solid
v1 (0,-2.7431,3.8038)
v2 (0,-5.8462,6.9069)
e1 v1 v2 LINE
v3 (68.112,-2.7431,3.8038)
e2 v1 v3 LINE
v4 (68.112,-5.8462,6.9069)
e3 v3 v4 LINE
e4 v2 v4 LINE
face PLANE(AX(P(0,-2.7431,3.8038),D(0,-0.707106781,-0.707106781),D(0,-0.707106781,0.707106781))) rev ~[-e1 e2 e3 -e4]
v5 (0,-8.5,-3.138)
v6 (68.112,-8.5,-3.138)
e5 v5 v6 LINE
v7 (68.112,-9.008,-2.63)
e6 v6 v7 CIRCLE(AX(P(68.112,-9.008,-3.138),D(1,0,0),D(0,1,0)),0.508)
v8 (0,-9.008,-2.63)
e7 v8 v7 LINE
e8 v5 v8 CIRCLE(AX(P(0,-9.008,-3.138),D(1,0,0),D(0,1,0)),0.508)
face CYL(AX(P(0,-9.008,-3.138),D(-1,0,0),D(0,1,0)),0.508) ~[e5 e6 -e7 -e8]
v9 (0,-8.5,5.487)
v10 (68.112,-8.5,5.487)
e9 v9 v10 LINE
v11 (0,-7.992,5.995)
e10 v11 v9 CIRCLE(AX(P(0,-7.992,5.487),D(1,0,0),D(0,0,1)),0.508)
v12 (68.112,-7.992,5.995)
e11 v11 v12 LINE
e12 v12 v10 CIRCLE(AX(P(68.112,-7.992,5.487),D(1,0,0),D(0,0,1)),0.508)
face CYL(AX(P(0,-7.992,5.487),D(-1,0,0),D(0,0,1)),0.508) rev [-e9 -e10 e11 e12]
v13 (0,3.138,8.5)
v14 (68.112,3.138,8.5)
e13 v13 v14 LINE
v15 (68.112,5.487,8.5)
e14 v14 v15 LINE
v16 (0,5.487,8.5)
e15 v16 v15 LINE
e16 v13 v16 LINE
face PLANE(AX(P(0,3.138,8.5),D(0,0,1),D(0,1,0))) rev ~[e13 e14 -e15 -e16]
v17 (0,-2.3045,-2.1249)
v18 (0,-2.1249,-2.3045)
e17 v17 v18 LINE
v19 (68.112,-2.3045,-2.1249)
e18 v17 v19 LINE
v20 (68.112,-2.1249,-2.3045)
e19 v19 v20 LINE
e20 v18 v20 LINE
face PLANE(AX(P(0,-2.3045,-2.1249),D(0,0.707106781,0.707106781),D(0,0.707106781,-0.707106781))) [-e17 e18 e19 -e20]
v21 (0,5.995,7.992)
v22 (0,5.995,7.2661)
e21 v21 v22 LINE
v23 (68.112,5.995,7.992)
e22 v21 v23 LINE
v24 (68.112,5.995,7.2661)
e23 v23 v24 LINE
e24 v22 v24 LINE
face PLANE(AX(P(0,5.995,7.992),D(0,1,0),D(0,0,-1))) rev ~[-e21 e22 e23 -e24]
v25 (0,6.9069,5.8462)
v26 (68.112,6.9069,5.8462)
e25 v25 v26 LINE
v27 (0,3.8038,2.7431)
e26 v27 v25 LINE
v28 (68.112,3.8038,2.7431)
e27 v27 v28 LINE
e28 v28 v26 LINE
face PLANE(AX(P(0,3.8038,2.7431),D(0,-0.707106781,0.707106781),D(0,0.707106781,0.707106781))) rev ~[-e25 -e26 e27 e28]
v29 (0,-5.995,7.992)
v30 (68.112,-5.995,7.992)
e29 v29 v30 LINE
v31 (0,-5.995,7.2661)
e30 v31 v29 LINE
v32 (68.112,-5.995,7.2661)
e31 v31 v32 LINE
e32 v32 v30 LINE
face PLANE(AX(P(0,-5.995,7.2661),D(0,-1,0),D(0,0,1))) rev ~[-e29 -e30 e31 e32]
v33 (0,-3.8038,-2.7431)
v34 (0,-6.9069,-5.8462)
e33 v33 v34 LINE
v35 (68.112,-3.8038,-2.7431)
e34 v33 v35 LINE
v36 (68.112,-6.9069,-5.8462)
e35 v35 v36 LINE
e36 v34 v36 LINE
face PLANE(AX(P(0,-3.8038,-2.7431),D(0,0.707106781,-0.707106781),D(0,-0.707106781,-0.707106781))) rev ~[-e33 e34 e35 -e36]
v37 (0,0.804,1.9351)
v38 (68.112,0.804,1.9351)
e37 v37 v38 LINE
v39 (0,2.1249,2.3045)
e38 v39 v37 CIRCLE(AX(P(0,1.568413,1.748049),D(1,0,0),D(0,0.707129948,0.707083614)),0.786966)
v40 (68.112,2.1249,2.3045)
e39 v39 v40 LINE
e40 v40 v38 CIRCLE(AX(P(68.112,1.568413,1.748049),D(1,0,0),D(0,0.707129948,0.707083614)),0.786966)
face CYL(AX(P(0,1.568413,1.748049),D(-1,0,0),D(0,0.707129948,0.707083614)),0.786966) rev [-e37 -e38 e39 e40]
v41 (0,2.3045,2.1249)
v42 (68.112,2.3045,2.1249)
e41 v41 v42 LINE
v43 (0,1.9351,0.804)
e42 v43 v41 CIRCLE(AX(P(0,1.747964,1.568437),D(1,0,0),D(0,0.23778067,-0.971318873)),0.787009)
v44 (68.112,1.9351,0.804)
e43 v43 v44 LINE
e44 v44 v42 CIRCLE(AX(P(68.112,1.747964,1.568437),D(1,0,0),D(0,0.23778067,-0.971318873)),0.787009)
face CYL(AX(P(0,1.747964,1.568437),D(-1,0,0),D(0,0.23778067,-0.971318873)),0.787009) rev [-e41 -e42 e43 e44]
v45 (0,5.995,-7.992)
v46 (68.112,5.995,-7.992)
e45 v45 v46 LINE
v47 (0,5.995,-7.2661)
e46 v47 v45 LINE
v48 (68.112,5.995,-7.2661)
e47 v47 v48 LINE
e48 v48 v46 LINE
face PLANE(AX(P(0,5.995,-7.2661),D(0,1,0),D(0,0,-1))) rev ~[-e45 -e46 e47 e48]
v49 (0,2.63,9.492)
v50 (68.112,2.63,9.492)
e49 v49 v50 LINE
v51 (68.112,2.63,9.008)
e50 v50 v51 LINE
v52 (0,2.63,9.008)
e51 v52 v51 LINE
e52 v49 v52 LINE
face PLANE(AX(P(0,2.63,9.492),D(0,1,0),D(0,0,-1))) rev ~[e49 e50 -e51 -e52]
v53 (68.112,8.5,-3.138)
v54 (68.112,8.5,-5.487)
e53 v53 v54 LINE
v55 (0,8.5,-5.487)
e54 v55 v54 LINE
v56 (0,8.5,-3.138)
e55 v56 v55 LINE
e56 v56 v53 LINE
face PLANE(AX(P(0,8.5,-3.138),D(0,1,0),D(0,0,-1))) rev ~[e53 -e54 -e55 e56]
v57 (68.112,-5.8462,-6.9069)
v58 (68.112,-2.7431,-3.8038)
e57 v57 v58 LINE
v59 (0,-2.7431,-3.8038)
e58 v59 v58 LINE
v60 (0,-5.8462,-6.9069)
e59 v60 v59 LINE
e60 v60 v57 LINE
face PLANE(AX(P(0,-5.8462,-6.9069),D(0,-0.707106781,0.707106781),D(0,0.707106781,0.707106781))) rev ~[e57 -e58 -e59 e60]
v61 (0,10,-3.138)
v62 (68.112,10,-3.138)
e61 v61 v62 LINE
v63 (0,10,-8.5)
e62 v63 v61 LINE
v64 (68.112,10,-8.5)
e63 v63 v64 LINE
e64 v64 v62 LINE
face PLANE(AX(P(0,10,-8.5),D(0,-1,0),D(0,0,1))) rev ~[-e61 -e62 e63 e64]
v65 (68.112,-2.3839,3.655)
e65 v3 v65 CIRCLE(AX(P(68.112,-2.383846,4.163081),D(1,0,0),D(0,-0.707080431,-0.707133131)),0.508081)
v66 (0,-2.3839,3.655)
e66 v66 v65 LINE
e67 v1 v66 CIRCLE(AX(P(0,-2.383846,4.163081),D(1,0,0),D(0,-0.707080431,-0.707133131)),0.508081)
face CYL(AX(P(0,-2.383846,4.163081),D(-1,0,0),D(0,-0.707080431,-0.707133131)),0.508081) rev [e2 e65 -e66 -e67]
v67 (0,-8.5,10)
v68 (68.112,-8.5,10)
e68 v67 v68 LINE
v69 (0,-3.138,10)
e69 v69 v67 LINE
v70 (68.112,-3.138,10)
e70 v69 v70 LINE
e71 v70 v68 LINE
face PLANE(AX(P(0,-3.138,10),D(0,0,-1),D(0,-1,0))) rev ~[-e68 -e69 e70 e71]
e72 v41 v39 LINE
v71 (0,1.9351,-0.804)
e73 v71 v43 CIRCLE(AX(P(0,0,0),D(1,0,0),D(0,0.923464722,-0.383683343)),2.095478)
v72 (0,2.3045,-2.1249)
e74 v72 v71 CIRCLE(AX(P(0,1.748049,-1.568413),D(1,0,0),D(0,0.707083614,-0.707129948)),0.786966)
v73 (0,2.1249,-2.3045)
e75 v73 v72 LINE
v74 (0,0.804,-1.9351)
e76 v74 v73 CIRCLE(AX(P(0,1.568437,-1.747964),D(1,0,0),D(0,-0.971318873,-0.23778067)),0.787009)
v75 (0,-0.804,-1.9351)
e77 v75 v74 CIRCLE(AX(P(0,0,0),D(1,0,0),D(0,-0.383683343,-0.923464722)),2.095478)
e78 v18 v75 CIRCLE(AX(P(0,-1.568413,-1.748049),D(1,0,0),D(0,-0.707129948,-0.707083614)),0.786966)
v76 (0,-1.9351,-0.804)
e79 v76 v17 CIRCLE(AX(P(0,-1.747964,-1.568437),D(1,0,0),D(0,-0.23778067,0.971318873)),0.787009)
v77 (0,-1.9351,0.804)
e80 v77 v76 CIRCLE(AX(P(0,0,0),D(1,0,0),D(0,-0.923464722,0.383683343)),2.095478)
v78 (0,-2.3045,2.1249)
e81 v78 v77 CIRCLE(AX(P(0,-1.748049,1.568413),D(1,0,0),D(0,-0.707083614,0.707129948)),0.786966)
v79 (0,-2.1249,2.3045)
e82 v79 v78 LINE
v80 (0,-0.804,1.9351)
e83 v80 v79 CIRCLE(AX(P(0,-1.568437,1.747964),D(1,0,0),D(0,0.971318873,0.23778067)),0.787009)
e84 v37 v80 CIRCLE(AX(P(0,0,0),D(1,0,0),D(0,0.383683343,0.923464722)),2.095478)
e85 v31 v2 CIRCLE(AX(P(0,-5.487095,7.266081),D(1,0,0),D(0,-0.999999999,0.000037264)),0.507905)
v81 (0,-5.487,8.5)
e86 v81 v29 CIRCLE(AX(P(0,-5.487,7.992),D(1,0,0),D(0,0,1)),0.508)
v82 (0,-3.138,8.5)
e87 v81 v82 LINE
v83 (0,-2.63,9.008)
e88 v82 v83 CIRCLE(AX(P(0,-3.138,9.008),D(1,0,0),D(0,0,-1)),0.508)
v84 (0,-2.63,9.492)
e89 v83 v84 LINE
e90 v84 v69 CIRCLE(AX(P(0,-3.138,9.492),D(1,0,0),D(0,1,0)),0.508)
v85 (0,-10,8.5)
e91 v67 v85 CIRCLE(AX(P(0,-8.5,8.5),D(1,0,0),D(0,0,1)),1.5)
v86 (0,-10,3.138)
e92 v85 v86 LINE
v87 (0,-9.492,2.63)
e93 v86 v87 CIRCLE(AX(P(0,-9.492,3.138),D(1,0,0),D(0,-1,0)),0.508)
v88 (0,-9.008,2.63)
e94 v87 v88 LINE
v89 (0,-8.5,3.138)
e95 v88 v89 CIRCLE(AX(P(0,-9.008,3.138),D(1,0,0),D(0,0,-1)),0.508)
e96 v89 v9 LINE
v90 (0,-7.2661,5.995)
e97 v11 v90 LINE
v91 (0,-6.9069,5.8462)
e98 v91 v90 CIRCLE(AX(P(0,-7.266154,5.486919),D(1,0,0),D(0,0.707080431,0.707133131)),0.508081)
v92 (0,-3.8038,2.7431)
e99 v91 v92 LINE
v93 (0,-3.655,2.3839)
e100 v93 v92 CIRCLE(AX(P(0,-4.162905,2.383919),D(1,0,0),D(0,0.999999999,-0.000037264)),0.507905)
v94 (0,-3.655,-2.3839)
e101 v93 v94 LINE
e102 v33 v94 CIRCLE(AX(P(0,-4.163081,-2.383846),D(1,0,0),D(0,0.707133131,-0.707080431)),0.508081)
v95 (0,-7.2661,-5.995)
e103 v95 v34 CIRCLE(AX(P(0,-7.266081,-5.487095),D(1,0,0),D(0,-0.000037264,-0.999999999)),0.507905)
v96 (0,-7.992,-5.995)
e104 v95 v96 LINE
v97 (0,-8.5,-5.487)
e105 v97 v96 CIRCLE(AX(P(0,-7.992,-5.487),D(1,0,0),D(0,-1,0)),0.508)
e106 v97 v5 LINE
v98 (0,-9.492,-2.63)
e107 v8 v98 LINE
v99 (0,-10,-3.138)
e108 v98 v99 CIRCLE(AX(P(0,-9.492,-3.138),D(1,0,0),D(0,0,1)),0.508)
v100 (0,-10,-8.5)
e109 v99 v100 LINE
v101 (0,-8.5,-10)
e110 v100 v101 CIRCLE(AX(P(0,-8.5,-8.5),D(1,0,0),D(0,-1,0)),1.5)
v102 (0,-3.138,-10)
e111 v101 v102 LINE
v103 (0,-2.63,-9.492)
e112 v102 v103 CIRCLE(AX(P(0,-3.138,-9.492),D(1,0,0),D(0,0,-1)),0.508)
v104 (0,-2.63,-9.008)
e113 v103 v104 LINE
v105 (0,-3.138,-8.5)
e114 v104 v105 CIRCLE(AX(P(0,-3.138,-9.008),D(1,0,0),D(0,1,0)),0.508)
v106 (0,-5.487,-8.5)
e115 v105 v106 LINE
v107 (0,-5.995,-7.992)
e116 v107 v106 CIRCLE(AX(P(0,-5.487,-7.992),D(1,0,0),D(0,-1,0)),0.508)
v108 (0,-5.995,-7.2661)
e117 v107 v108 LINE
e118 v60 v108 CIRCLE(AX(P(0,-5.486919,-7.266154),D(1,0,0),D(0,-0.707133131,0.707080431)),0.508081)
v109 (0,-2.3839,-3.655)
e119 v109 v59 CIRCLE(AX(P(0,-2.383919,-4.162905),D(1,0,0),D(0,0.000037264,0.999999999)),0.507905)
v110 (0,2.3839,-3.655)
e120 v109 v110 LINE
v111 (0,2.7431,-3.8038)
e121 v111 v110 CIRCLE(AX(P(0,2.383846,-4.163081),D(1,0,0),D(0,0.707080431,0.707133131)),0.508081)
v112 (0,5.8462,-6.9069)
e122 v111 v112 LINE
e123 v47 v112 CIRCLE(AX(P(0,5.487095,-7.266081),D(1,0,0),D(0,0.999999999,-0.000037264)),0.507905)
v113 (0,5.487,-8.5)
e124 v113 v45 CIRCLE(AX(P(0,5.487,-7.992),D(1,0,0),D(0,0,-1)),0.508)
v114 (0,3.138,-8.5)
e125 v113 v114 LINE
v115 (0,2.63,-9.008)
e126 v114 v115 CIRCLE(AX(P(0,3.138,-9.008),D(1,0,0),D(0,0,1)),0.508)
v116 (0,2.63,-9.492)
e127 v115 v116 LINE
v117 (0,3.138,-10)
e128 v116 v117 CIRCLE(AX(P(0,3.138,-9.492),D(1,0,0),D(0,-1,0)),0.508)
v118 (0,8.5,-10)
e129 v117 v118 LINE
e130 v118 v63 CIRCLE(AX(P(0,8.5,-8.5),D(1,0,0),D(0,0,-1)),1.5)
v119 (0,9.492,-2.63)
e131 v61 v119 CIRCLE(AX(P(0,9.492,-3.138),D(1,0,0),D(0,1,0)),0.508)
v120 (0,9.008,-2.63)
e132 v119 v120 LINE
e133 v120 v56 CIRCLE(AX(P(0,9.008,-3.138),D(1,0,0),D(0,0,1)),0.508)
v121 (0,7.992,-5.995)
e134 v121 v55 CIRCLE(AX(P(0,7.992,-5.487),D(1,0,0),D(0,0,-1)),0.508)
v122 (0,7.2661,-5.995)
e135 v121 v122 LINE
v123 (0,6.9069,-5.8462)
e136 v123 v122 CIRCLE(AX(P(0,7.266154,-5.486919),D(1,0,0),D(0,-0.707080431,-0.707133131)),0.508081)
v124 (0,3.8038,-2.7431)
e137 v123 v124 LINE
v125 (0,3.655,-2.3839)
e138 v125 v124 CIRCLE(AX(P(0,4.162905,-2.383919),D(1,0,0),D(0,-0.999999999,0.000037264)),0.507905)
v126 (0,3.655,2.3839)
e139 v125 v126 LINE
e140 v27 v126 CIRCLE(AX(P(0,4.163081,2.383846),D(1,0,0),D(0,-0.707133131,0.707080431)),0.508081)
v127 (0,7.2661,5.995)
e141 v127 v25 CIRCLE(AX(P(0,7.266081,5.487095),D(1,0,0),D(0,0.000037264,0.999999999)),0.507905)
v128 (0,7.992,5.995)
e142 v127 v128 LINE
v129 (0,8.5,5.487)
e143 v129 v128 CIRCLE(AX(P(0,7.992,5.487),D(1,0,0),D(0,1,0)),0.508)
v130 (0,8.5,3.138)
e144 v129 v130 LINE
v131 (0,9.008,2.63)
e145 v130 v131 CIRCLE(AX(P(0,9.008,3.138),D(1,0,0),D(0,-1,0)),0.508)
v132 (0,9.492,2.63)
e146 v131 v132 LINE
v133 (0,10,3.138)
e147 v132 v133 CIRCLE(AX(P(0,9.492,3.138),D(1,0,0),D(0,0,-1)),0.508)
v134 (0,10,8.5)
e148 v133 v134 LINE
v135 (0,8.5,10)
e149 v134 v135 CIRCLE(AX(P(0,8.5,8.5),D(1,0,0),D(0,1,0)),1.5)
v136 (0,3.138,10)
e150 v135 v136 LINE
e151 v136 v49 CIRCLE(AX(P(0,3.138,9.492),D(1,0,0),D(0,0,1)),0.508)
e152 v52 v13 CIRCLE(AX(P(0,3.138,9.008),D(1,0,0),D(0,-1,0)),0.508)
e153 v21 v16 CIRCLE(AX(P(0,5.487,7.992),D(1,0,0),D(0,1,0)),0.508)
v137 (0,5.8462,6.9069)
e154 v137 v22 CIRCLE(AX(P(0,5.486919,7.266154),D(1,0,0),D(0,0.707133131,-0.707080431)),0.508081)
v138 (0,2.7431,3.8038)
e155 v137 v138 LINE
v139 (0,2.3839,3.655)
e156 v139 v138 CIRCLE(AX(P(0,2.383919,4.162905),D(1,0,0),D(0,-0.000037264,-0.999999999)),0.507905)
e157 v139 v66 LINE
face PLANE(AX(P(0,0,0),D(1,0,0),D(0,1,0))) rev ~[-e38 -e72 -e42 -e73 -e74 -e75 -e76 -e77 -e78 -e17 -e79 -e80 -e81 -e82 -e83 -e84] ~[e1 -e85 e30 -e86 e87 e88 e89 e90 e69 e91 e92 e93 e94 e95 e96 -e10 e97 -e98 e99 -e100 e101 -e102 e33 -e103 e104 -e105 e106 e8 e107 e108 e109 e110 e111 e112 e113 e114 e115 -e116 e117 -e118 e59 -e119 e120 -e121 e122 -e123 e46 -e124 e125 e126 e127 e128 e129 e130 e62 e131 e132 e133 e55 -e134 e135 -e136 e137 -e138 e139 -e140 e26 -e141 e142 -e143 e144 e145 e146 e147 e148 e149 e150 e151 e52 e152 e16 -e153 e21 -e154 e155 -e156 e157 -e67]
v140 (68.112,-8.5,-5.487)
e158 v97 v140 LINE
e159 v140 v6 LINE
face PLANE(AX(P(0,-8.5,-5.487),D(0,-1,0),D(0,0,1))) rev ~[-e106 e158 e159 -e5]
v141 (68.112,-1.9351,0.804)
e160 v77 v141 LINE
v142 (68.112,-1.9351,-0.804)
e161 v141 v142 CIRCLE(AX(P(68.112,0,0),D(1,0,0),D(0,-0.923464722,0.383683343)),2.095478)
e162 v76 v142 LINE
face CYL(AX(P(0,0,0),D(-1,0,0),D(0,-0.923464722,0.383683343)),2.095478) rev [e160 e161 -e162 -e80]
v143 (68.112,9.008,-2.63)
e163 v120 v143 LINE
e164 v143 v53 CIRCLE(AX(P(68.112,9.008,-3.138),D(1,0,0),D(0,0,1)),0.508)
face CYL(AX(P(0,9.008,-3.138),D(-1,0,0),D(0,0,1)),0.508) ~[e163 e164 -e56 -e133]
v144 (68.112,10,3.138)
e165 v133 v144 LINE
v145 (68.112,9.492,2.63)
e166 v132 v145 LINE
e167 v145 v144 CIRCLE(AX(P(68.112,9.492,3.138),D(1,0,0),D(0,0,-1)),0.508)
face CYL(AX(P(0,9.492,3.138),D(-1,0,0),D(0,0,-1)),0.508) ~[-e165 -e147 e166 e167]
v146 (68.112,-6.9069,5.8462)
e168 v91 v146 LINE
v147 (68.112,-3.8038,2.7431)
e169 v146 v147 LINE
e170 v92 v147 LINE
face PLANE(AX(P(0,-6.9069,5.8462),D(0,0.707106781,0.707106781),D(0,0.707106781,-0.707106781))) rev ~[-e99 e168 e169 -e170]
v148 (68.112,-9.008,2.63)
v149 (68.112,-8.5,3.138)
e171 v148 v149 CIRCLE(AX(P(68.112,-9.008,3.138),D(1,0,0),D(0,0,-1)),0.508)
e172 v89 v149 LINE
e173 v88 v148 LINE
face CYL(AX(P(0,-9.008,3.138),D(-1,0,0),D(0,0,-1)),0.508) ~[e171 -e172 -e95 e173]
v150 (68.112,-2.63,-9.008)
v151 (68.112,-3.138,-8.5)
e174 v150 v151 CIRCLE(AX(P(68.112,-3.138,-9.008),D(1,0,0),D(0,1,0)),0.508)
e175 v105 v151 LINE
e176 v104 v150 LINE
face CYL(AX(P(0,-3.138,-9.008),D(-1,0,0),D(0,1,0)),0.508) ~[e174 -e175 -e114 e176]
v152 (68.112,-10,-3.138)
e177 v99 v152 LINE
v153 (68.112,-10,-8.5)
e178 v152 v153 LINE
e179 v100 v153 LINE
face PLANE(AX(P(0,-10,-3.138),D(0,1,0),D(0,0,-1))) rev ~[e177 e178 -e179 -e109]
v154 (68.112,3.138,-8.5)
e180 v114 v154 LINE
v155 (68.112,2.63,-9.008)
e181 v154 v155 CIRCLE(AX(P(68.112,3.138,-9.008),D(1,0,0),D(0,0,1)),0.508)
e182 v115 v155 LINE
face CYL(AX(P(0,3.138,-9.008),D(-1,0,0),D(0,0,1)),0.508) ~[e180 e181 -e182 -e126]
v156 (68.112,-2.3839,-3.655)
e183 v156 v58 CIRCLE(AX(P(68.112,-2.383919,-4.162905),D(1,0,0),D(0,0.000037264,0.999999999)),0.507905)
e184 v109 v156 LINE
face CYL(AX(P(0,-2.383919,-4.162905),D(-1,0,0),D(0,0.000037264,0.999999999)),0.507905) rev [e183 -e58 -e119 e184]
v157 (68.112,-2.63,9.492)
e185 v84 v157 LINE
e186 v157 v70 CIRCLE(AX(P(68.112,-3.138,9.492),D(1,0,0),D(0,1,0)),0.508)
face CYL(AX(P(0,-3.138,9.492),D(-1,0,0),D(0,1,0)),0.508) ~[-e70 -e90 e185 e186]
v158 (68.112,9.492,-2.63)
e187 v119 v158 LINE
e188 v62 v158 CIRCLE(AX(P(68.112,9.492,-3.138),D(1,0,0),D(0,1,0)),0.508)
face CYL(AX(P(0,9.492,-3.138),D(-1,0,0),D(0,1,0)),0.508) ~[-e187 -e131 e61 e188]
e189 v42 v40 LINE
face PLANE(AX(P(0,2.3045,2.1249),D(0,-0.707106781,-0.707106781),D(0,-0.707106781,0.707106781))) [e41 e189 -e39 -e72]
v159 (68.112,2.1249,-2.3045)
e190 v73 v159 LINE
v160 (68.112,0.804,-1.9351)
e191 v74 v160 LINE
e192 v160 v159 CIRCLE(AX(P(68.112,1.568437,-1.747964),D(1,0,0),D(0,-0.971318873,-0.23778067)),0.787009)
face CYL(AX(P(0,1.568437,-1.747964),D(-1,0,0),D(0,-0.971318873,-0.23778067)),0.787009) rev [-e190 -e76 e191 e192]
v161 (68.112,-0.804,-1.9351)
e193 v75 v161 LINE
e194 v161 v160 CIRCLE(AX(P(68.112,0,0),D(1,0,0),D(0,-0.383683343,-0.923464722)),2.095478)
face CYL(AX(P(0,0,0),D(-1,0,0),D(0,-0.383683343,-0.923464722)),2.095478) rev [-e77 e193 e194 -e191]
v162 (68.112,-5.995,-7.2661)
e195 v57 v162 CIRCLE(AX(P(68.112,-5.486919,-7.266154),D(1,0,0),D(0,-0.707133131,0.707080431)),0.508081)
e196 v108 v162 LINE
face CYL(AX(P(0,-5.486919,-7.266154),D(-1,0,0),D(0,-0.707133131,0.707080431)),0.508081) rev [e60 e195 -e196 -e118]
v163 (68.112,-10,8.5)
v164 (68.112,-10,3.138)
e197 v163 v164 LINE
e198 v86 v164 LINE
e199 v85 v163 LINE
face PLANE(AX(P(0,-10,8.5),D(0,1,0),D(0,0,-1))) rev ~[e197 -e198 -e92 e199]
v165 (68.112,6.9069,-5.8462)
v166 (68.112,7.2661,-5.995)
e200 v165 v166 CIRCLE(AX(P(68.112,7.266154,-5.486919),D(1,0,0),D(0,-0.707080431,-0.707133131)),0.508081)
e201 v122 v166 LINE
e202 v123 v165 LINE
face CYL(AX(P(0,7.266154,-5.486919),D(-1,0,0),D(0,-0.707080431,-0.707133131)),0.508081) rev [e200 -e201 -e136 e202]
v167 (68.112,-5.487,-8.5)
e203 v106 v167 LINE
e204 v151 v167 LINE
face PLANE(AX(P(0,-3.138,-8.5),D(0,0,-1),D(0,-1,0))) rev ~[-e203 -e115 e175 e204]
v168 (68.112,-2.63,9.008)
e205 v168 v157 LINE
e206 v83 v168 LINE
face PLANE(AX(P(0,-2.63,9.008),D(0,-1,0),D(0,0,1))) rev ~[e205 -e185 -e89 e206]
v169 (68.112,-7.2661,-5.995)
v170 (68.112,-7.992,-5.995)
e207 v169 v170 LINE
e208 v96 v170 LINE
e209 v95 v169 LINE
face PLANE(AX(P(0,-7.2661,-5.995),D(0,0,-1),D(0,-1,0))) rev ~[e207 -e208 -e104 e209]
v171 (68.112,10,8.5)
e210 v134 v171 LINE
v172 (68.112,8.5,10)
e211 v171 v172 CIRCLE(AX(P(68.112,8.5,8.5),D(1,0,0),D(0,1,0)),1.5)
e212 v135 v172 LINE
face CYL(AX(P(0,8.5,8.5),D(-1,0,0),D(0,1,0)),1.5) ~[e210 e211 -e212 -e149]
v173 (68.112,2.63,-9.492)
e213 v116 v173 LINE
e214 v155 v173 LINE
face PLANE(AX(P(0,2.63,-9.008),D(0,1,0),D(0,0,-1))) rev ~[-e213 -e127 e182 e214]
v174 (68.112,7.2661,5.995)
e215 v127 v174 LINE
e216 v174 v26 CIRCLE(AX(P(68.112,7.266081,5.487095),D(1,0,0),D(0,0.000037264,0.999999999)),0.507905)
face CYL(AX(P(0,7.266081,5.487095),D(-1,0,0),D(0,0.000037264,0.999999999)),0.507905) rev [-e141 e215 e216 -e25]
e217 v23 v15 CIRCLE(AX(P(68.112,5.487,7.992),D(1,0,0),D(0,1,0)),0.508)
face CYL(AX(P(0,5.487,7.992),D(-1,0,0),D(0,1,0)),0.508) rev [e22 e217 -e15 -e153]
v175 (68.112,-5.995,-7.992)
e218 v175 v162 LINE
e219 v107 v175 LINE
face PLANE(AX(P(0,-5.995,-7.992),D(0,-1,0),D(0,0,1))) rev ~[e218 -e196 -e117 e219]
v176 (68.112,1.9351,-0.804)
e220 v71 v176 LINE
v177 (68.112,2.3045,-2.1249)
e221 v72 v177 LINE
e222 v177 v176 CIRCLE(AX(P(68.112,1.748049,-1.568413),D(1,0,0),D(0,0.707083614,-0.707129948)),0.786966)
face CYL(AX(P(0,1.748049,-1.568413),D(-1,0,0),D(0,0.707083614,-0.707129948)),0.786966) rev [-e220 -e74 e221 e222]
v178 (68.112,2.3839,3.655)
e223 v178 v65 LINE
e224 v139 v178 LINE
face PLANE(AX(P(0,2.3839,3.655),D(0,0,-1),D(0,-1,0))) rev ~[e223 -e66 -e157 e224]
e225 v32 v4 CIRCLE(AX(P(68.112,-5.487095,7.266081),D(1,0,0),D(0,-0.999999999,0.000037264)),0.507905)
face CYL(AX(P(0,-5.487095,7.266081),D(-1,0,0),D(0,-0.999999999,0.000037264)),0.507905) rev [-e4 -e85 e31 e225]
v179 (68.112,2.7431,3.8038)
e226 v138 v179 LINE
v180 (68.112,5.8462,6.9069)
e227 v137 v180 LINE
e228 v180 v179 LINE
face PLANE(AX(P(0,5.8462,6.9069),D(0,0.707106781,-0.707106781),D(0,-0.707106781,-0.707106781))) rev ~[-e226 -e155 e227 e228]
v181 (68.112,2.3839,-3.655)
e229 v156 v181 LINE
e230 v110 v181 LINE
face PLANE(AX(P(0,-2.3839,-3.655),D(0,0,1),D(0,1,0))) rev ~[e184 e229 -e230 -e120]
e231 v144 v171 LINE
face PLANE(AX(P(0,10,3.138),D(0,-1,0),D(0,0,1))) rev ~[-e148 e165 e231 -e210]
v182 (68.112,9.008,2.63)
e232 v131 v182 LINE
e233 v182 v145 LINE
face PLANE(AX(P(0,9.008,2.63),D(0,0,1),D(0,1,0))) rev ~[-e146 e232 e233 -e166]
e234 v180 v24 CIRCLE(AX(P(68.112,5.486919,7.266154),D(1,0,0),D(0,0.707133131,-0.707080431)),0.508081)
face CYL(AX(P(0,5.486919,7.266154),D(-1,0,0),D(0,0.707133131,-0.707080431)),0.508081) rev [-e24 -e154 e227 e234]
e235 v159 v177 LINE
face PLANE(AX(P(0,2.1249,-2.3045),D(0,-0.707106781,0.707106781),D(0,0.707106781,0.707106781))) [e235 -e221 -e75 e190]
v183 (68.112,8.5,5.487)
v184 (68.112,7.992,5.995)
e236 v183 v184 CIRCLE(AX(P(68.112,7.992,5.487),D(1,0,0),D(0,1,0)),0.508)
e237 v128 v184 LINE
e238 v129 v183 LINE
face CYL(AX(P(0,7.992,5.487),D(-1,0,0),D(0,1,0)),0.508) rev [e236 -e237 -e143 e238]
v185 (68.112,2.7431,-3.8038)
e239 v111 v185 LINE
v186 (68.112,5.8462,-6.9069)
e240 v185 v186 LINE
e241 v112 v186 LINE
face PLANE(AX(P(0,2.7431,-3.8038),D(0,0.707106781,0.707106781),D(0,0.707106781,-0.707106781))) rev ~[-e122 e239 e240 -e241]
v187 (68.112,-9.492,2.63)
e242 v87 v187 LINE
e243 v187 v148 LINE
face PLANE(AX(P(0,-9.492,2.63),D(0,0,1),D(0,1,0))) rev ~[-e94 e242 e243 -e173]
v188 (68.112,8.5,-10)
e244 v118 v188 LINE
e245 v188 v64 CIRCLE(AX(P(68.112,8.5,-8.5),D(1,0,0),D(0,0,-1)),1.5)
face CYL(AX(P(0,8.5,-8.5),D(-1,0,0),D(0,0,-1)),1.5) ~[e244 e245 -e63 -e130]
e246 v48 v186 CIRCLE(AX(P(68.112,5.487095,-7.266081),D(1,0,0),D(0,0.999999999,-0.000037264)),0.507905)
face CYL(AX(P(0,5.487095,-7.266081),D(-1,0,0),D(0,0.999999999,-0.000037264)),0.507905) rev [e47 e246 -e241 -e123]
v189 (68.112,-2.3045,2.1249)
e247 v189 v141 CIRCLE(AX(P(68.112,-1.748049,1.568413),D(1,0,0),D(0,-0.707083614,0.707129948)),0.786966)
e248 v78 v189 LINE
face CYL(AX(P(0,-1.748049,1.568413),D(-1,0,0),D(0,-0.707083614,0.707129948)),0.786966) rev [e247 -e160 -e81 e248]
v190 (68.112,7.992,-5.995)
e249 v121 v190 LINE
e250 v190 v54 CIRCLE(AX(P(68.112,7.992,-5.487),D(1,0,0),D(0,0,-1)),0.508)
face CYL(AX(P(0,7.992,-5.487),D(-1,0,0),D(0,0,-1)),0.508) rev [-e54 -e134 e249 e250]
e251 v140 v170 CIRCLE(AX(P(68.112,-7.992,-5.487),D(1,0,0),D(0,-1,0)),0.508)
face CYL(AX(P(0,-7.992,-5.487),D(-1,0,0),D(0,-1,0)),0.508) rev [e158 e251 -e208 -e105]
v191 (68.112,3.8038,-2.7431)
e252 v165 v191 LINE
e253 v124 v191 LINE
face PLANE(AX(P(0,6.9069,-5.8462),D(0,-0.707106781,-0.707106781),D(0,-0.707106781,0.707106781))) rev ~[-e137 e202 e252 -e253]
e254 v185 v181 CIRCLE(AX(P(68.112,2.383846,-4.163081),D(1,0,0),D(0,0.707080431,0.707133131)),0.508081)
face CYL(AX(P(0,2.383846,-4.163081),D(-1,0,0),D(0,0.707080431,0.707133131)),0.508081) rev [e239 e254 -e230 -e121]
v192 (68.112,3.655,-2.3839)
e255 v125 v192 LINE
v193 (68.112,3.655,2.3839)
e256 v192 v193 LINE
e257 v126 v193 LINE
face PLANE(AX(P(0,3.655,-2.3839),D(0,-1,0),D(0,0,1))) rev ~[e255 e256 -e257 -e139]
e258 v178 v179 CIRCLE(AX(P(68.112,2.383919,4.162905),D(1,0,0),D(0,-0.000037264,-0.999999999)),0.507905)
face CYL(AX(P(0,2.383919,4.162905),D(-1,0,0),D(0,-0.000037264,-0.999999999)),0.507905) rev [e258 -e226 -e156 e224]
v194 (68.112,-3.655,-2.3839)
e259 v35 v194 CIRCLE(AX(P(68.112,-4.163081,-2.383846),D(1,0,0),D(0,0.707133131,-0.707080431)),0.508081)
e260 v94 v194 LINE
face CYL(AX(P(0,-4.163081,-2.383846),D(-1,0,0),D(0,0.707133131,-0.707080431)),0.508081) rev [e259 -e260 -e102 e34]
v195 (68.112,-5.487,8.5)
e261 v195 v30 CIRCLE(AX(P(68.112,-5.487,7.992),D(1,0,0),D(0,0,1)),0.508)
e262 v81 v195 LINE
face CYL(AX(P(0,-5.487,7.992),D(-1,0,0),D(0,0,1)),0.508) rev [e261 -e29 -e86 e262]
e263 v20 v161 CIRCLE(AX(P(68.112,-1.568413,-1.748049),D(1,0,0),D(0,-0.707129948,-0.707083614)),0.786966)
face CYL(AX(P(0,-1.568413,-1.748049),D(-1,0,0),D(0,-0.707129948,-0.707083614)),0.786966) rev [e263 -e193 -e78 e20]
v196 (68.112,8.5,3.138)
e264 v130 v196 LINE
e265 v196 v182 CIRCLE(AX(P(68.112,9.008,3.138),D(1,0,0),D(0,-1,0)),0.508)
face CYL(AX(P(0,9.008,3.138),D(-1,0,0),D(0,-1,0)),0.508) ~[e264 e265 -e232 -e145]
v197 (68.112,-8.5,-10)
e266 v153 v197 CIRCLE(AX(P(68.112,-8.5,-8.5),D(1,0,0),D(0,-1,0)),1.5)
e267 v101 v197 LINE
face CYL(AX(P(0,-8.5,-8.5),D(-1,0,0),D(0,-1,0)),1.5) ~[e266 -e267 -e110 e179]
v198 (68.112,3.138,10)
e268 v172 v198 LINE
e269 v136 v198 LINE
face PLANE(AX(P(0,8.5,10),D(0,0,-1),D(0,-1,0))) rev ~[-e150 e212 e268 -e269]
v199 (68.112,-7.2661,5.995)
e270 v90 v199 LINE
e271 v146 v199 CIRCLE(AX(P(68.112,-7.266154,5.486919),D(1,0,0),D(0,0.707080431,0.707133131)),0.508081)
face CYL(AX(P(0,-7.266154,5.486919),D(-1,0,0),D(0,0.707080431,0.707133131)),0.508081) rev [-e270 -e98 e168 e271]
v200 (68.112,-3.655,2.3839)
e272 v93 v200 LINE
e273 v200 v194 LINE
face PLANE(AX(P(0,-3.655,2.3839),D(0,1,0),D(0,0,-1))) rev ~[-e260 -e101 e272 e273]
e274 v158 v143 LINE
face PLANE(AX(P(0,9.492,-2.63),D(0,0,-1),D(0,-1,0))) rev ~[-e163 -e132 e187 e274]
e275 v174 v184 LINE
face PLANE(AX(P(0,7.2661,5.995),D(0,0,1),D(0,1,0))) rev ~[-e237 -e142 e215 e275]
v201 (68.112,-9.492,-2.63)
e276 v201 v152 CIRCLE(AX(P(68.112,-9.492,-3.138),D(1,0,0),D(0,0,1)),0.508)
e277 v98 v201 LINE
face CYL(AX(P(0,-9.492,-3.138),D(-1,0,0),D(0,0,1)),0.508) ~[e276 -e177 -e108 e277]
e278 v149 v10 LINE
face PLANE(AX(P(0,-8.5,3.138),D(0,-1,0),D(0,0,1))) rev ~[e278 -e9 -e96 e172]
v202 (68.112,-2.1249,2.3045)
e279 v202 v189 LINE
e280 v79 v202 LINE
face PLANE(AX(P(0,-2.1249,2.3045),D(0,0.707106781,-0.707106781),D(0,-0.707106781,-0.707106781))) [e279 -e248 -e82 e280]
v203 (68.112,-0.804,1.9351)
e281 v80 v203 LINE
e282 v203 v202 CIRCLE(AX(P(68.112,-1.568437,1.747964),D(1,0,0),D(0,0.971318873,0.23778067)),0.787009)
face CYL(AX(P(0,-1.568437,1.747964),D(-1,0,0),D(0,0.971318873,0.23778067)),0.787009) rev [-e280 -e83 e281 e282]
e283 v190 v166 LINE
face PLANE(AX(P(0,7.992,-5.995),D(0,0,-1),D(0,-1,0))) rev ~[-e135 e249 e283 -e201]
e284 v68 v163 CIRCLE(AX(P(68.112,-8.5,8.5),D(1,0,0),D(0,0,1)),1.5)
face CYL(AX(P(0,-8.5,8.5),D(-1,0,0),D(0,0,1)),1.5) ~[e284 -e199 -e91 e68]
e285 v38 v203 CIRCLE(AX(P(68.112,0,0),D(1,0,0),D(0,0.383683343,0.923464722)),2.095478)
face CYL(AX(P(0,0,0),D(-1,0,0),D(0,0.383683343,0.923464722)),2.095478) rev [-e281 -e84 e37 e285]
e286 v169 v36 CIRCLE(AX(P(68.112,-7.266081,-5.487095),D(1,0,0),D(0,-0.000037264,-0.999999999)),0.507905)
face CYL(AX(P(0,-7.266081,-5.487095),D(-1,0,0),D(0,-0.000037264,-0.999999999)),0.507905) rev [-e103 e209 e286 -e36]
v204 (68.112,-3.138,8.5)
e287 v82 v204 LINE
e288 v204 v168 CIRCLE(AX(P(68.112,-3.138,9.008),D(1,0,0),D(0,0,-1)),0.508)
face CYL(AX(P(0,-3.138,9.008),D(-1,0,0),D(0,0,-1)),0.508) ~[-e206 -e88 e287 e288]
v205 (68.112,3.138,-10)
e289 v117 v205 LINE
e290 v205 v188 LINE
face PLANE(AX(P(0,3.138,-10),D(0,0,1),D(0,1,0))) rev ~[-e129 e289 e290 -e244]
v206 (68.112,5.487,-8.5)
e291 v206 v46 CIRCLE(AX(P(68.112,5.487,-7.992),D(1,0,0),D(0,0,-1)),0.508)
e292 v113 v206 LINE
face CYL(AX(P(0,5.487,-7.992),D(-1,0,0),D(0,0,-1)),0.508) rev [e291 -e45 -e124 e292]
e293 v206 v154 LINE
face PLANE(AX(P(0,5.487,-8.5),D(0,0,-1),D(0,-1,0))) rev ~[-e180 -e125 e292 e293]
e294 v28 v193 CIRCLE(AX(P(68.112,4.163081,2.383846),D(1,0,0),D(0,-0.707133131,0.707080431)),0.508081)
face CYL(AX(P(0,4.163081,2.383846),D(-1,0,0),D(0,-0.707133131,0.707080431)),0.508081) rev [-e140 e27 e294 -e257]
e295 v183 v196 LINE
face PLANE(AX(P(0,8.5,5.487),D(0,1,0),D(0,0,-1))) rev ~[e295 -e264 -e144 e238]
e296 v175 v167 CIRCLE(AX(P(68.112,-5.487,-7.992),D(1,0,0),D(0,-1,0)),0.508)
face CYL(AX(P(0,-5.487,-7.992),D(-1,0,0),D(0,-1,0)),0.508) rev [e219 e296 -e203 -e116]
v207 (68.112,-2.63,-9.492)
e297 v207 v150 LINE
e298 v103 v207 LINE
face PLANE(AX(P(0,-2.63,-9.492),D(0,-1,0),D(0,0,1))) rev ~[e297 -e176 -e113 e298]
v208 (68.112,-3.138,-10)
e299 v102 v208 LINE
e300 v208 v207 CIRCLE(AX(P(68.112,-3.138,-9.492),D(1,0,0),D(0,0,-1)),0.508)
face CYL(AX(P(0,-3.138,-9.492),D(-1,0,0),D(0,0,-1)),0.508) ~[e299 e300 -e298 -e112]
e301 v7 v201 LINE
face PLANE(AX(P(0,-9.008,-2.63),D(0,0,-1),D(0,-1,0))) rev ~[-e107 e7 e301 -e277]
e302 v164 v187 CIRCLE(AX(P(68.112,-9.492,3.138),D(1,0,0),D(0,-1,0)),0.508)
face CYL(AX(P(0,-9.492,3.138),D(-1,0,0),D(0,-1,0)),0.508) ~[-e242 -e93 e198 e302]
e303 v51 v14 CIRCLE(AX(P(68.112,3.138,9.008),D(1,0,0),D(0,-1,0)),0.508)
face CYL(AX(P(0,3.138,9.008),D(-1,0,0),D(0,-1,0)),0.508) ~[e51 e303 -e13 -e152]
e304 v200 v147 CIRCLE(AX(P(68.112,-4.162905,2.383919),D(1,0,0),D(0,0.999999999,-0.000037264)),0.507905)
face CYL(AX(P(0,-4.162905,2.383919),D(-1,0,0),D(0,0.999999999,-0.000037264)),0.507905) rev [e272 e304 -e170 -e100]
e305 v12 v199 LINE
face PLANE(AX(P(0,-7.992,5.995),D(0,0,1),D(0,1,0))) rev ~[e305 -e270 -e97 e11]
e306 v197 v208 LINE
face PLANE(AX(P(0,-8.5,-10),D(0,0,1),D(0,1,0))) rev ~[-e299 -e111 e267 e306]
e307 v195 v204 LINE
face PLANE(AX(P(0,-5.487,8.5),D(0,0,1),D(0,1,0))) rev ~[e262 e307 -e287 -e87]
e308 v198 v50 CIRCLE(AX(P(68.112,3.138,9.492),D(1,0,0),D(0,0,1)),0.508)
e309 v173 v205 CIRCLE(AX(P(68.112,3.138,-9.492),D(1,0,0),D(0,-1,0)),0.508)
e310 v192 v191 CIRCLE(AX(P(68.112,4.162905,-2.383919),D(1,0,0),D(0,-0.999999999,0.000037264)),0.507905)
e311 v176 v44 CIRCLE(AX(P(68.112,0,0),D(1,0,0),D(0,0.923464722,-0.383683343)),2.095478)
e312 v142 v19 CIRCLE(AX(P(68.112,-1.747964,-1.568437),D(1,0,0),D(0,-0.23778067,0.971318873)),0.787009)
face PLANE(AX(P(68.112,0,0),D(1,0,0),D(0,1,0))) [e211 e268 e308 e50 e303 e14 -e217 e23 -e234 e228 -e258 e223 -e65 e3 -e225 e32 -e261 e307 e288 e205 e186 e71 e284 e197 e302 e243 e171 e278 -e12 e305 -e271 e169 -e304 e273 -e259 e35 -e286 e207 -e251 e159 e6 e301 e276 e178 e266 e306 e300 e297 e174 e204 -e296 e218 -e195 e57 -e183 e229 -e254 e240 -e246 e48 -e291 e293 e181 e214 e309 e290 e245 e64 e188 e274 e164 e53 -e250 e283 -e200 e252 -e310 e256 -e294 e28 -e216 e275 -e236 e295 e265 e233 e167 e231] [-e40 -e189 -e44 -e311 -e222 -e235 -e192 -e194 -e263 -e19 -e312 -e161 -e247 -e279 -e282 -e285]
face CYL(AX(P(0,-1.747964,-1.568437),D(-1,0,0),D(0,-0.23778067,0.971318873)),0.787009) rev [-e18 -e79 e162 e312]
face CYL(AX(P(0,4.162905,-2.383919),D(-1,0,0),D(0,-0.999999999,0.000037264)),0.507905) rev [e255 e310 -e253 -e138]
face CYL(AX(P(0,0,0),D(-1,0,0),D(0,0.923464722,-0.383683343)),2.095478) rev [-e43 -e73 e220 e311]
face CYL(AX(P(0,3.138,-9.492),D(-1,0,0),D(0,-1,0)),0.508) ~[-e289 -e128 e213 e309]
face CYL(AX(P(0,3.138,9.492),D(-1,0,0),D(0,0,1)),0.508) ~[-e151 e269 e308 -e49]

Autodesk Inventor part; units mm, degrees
ref_plane "YZ Plane" through (0, 0, 0) normal (1, 0, 0) x (0, 1, 0)
ref_plane "XZ Plane" through (0, 0, 0) normal (0, 1, 0) x (-1, 0, 0)
ref_plane "XY Plane" through (0, 0, 0) normal (0, 0, 1) x (1, 0, 0)
sketch "Sketch1" plane through (0, 0, 0) normal (1, 0, 0) x (0, 1, 0)
  arc A0 (0.804, -1.9351) -> (2.1249, -2.3045) centre (1.5684, -1.748) ccw
  line L0 (2.1249, -2.3045) -> (2.3045, -2.1249)
  arc A1 (2.3045, -2.1249) -> (1.9351, -0.804) centre (1.748, -1.5684) ccw
  arc A2 (1.9351, -0.804) -> (1.9351, 0.804) centre (0, 0) ccw
  arc A3 (1.9351, 0.804) -> (2.3045, 2.1249) centre (1.748, 1.5684) ccw
  line L1 (2.3045, 2.1249) -> (2.1249, 2.3045)
  arc A4 (2.1249, 2.3045) -> (0.804, 1.9351) centre (1.5684, 1.748) ccw
  arc A5 (0.804, 1.9351) -> (-0.804, 1.9351) centre (0, 0) ccw
  arc A6 (-0.804, 1.9351) -> (-2.1249, 2.3045) centre (-1.5684, 1.748) ccw
  line L2 (-2.1249, 2.3045) -> (-2.3045, 2.1249)
  arc A7 (-2.3045, 2.1249) -> (-1.9351, 0.804) centre (-1.748, 1.5684) ccw
  arc A8 (-1.9351, 0.804) -> (-1.9351, -0.804) centre (0, 0) ccw
  arc A9 (-1.9351, -0.804) -> (-2.3045, -2.1249) centre (-1.748, -1.5684) ccw
  line L3 (-2.3045, -2.1249) -> (-2.1249, -2.3045)
  arc A10 (-2.1249, -2.3045) -> (-0.804, -1.9351) centre (-1.5684, -1.748) ccw
  arc A11 (-0.804, -1.9351) -> (0.804, -1.9351) centre (0, 0) ccw
  line L4 (9.008, 2.63) -> (9.492, 2.63)
  arc A12 (8.5, 3.138) -> (9.008, 2.63) centre (9.008, 3.138) ccw
  line L5 (8.5, 5.487) -> (8.5, 3.138)
  arc A13 (8.5, 5.487) -> (7.992, 5.995) centre (7.992, 5.487) ccw
  line L6 (7.2661, 5.995) -> (7.992, 5.995)
  arc A14 (7.2661, 5.995) -> (6.9069, 5.8462) centre (7.2661, 5.487) ccw
  line L7 (3.8038, 2.7431) -> (6.9069, 5.8462)
  arc A15 (3.8038, 2.7431) -> (3.655, 2.3839) centre (4.163, 2.3839) ccw
  line L8 (3.655, -2.3839) -> (3.655, 2.3839)
  arc A16 (3.655, -2.3839) -> (3.8038, -2.7431) centre (4.163, -2.3839) ccw
  line L9 (6.9069, -5.8462) -> (3.8038, -2.7431)
  arc A17 (6.9069, -5.8462) -> (7.2661, -5.995) centre (7.2661, -5.487) ccw
  line L10 (7.992, -5.995) -> (7.2661, -5.995)
  arc A18 (7.992, -5.995) -> (8.5, -5.487) centre (7.992, -5.487) ccw
  line L11 (8.5, -3.138) -> (8.5, -5.487)
  arc A19 (9.008, -2.63) -> (8.5, -3.138) centre (9.008, -3.138) ccw
  line L12 (9.492, -2.63) -> (9.008, -2.63)
  arc A20 (10, -3.138) -> (9.492, -2.63) centre (9.492, -3.138) ccw
  line L13 (10, -8.5) -> (10, -3.138)
  arc A21 (8.5, -10) -> (10, -8.5) centre (8.5, -8.5) ccw
  line L14 (3.138, -10) -> (8.5, -10)
  arc A22 (2.63, -9.492) -> (3.138, -10) centre (3.138, -9.492) ccw
  line L15 (2.63, -9.008) -> (2.63, -9.492)
  arc A23 (3.138, -8.5) -> (2.63, -9.008) centre (3.138, -9.008) ccw
  line L16 (5.487, -8.5) -> (3.138, -8.5)
  arc A24 (5.487, -8.5) -> (5.995, -7.992) centre (5.487, -7.992) ccw
  line L17 (5.995, -7.2661) -> (5.995, -7.992)
  arc A25 (5.995, -7.2661) -> (5.8462, -6.9069) centre (5.487, -7.2661) ccw
  line L18 (2.7431, -3.8038) -> (5.8462, -6.9069)
  arc A26 (2.7431, -3.8038) -> (2.3839, -3.655) centre (2.3839, -4.163) ccw
  line L19 (-2.3839, -3.655) -> (2.3839, -3.655)
  arc A27 (-2.3839, -3.655) -> (-2.7431, -3.8038) centre (-2.3839, -4.163) ccw
  line L20 (-5.8462, -6.9069) -> (-2.7431, -3.8038)
  arc A28 (-5.8462, -6.9069) -> (-5.995, -7.2661) centre (-5.487, -7.2661) ccw
  line L21 (-5.995, -7.992) -> (-5.995, -7.2661)
  arc A29 (-5.995, -7.992) -> (-5.487, -8.5) centre (-5.487, -7.992) ccw
  line L22 (-3.138, -8.5) -> (-5.487, -8.5)
  arc A30 (-2.63, -9.008) -> (-3.138, -8.5) centre (-3.138, -9.008) ccw
  line L23 (-2.63, -9.492) -> (-2.63, -9.008)
  arc A31 (-3.138, -10) -> (-2.63, -9.492) centre (-3.138, -9.492) ccw
  line L24 (-8.5, -10) -> (-3.138, -10)
  arc A32 (-10, -8.5) -> (-8.5, -10) centre (-8.5, -8.5) ccw
  line L25 (-10, -3.138) -> (-10, -8.5)
  arc A33 (-9.492, -2.63) -> (-10, -3.138) centre (-9.492, -3.138) ccw
  line L26 (-9.008, -2.63) -> (-9.492, -2.63)
  arc A34 (-8.5, -3.138) -> (-9.008, -2.63) centre (-9.008, -3.138) ccw
  line L27 (-8.5, -5.487) -> (-8.5, -3.138)
  arc A35 (-8.5, -5.487) -> (-7.992, -5.995) centre (-7.992, -5.487) ccw
  line L28 (-7.2661, -5.995) -> (-7.992, -5.995)
  arc A36 (-7.2661, -5.995) -> (-6.9069, -5.8462) centre (-7.2661, -5.487) ccw
  line L29 (-3.8038, -2.7431) -> (-6.9069, -5.8462)
  arc A37 (-3.8038, -2.7431) -> (-3.655, -2.3839) centre (-4.163, -2.3839) ccw
  line L30 (-3.655, 2.3839) -> (-3.655, -2.3839)
  arc A38 (-3.655, 2.3839) -> (-3.8038, 2.7431) centre (-4.163, 2.3839) ccw
  line L31 (-6.9069, 5.8462) -> (-3.8038, 2.7431)
  arc A39 (-6.9069, 5.8462) -> (-7.2661, 5.995) centre (-7.2661, 5.487) ccw
  line L32 (-7.992, 5.995) -> (-7.2661, 5.995)
  arc A40 (-7.992, 5.995) -> (-8.5, 5.487) centre (-7.992, 5.487) ccw
  line L33 (-8.5, 3.138) -> (-8.5, 5.487)
  arc A41 (-9.008, 2.63) -> (-8.5, 3.138) centre (-9.008, 3.138) ccw
  line L34 (-9.492, 2.63) -> (-9.008, 2.63)
  arc A42 (-10, 3.138) -> (-9.492, 2.63) centre (-9.492, 3.138) ccw
  line L35 (-10, 8.5) -> (-10, 3.138)
  arc A43 (-8.5, 10) -> (-10, 8.5) centre (-8.5, 8.5) ccw
  line L36 (-3.138, 10) -> (-8.5, 10)
  arc A44 (-2.63, 9.492) -> (-3.138, 10) centre (-3.138, 9.492) ccw
  line L37 (-2.63, 9.008) -> (-2.63, 9.492)
  arc A45 (-3.138, 8.5) -> (-2.63, 9.008) centre (-3.138, 9.008) ccw
  line L38 (-5.487, 8.5) -> (-3.138, 8.5)
  arc A46 (-5.487, 8.5) -> (-5.995, 7.992) centre (-5.487, 7.992) ccw
  line L39 (-5.995, 7.2661) -> (-5.995, 7.992)
  arc A47 (-5.995, 7.2661) -> (-5.8462, 6.9069) centre (-5.487, 7.2661) ccw
  line L40 (-2.7431, 3.8038) -> (-5.8462, 6.9069)
  arc A48 (-2.7431, 3.8038) -> (-2.3839, 3.655) centre (-2.3839, 4.163) ccw
  line L41 (2.3839, 3.655) -> (-2.3839, 3.655)
  arc A49 (2.3839, 3.655) -> (2.7431, 3.8038) centre (2.3839, 4.163) ccw
  line L42 (5.8462, 6.9069) -> (2.7431, 3.8038)
  arc A50 (5.8462, 6.9069) -> (5.995, 7.2661) centre (5.487, 7.2661) ccw
  line L43 (5.995, 7.992) -> (5.995, 7.2661)
  arc A51 (5.995, 7.992) -> (5.487, 8.5) centre (5.487, 7.992) ccw
  line L44 (3.138, 8.5) -> (5.487, 8.5)
  arc A52 (2.63, 9.008) -> (3.138, 8.5) centre (3.138, 9.008) ccw
  line L45 (2.63, 9.492) -> (2.63, 9.008)
  arc A53 (3.138, 10) -> (2.63, 9.492) centre (3.138, 9.492) ccw
  line L46 (8.5, 10) -> (3.138, 10)
  arc A54 (10, 8.5) -> (8.5, 10) centre (8.5, 8.5) ccw
  line L47 (10, 3.138) -> (10, 8.5)
  arc A55 (9.492, 2.63) -> (10, 3.138) centre (9.492, 3.138) ccw
  point P0 (0.804, -1.9351)
  point P1 (-0.804, -1.9351)
  point P2 (-2.3045, -2.1249)
  point P3 (-1.9351, -0.804)
  point P4 (-1.9351, 0.804)
  point P5 (-2.1249, 2.3045)
  point P6 (-0.804, 1.9351)
  point P7 (0.804, 1.9351)
  point P8 (2.3045, 2.1249)
  point P9 (1.9351, 0.804)
  point P10 (1.9351, -0.804)
  point P11 (2.1249, -2.3045)
  point P12 (8.5, 3.138)
  point P13 (10, 8.5)
  point P14 (3.138, 10)
  point P15 (2.63, 9.008)
  point P16 (5.487, 8.5)
  point P17 (5.995, 7.2661)
  point P18 (2.7431, 3.8038)
  point P19 (-2.3839, 3.655)
  point P20 (-5.8462, 6.9069)
  point P21 (-5.995, 7.992)
  point P22 (-3.138, 8.5)
  point P23 (-2.63, 9.492)
  point P24 (-8.5, 10)
  point P25 (-10, 3.138)
  point P26 (-9.008, 2.63)
  point P27 (-8.5, 5.487)
  point P28 (-7.2661, 5.995)
  point P29 (-3.8038, 2.7431)
  point P30 (-3.655, -2.3839)
  point P31 (-6.9069, -5.8462)
  point P32 (-7.992, -5.995)
  point P33 (-8.5, -3.138)
  point P34 (-9.492, -2.63)
  point P35 (-10, -8.5)
  point P36 (-3.138, -10)
  point P37 (-2.63, -9.008)
  point P38 (-5.487, -8.5)
  point P39 (-5.995, -7.2661)
  point P40 (-2.7431, -3.8038)
  point P41 (2.3839, -3.655)
  point P42 (5.8462, -6.9069)
  point P43 (5.995, -7.992)
  point P44 (3.138, -8.5)
  point P45 (2.63, -9.492)
  point P46 (8.5, -10)
  point P47 (10, -3.138)
  point P48 (9.008, -2.63)
  point P49 (8.5, -5.487)
  point P50 (7.2661, -5.995)
  point P51 (3.8038, -2.7431)
  point P52 (3.655, 2.3839)
  point P53 (6.9069, 5.8462)
  point P54 (7.992, 5.995)
extrude "Extrusion1" add sketch "Sketch1" along normal blind 68.112
properties part number "2x2020_hor"
